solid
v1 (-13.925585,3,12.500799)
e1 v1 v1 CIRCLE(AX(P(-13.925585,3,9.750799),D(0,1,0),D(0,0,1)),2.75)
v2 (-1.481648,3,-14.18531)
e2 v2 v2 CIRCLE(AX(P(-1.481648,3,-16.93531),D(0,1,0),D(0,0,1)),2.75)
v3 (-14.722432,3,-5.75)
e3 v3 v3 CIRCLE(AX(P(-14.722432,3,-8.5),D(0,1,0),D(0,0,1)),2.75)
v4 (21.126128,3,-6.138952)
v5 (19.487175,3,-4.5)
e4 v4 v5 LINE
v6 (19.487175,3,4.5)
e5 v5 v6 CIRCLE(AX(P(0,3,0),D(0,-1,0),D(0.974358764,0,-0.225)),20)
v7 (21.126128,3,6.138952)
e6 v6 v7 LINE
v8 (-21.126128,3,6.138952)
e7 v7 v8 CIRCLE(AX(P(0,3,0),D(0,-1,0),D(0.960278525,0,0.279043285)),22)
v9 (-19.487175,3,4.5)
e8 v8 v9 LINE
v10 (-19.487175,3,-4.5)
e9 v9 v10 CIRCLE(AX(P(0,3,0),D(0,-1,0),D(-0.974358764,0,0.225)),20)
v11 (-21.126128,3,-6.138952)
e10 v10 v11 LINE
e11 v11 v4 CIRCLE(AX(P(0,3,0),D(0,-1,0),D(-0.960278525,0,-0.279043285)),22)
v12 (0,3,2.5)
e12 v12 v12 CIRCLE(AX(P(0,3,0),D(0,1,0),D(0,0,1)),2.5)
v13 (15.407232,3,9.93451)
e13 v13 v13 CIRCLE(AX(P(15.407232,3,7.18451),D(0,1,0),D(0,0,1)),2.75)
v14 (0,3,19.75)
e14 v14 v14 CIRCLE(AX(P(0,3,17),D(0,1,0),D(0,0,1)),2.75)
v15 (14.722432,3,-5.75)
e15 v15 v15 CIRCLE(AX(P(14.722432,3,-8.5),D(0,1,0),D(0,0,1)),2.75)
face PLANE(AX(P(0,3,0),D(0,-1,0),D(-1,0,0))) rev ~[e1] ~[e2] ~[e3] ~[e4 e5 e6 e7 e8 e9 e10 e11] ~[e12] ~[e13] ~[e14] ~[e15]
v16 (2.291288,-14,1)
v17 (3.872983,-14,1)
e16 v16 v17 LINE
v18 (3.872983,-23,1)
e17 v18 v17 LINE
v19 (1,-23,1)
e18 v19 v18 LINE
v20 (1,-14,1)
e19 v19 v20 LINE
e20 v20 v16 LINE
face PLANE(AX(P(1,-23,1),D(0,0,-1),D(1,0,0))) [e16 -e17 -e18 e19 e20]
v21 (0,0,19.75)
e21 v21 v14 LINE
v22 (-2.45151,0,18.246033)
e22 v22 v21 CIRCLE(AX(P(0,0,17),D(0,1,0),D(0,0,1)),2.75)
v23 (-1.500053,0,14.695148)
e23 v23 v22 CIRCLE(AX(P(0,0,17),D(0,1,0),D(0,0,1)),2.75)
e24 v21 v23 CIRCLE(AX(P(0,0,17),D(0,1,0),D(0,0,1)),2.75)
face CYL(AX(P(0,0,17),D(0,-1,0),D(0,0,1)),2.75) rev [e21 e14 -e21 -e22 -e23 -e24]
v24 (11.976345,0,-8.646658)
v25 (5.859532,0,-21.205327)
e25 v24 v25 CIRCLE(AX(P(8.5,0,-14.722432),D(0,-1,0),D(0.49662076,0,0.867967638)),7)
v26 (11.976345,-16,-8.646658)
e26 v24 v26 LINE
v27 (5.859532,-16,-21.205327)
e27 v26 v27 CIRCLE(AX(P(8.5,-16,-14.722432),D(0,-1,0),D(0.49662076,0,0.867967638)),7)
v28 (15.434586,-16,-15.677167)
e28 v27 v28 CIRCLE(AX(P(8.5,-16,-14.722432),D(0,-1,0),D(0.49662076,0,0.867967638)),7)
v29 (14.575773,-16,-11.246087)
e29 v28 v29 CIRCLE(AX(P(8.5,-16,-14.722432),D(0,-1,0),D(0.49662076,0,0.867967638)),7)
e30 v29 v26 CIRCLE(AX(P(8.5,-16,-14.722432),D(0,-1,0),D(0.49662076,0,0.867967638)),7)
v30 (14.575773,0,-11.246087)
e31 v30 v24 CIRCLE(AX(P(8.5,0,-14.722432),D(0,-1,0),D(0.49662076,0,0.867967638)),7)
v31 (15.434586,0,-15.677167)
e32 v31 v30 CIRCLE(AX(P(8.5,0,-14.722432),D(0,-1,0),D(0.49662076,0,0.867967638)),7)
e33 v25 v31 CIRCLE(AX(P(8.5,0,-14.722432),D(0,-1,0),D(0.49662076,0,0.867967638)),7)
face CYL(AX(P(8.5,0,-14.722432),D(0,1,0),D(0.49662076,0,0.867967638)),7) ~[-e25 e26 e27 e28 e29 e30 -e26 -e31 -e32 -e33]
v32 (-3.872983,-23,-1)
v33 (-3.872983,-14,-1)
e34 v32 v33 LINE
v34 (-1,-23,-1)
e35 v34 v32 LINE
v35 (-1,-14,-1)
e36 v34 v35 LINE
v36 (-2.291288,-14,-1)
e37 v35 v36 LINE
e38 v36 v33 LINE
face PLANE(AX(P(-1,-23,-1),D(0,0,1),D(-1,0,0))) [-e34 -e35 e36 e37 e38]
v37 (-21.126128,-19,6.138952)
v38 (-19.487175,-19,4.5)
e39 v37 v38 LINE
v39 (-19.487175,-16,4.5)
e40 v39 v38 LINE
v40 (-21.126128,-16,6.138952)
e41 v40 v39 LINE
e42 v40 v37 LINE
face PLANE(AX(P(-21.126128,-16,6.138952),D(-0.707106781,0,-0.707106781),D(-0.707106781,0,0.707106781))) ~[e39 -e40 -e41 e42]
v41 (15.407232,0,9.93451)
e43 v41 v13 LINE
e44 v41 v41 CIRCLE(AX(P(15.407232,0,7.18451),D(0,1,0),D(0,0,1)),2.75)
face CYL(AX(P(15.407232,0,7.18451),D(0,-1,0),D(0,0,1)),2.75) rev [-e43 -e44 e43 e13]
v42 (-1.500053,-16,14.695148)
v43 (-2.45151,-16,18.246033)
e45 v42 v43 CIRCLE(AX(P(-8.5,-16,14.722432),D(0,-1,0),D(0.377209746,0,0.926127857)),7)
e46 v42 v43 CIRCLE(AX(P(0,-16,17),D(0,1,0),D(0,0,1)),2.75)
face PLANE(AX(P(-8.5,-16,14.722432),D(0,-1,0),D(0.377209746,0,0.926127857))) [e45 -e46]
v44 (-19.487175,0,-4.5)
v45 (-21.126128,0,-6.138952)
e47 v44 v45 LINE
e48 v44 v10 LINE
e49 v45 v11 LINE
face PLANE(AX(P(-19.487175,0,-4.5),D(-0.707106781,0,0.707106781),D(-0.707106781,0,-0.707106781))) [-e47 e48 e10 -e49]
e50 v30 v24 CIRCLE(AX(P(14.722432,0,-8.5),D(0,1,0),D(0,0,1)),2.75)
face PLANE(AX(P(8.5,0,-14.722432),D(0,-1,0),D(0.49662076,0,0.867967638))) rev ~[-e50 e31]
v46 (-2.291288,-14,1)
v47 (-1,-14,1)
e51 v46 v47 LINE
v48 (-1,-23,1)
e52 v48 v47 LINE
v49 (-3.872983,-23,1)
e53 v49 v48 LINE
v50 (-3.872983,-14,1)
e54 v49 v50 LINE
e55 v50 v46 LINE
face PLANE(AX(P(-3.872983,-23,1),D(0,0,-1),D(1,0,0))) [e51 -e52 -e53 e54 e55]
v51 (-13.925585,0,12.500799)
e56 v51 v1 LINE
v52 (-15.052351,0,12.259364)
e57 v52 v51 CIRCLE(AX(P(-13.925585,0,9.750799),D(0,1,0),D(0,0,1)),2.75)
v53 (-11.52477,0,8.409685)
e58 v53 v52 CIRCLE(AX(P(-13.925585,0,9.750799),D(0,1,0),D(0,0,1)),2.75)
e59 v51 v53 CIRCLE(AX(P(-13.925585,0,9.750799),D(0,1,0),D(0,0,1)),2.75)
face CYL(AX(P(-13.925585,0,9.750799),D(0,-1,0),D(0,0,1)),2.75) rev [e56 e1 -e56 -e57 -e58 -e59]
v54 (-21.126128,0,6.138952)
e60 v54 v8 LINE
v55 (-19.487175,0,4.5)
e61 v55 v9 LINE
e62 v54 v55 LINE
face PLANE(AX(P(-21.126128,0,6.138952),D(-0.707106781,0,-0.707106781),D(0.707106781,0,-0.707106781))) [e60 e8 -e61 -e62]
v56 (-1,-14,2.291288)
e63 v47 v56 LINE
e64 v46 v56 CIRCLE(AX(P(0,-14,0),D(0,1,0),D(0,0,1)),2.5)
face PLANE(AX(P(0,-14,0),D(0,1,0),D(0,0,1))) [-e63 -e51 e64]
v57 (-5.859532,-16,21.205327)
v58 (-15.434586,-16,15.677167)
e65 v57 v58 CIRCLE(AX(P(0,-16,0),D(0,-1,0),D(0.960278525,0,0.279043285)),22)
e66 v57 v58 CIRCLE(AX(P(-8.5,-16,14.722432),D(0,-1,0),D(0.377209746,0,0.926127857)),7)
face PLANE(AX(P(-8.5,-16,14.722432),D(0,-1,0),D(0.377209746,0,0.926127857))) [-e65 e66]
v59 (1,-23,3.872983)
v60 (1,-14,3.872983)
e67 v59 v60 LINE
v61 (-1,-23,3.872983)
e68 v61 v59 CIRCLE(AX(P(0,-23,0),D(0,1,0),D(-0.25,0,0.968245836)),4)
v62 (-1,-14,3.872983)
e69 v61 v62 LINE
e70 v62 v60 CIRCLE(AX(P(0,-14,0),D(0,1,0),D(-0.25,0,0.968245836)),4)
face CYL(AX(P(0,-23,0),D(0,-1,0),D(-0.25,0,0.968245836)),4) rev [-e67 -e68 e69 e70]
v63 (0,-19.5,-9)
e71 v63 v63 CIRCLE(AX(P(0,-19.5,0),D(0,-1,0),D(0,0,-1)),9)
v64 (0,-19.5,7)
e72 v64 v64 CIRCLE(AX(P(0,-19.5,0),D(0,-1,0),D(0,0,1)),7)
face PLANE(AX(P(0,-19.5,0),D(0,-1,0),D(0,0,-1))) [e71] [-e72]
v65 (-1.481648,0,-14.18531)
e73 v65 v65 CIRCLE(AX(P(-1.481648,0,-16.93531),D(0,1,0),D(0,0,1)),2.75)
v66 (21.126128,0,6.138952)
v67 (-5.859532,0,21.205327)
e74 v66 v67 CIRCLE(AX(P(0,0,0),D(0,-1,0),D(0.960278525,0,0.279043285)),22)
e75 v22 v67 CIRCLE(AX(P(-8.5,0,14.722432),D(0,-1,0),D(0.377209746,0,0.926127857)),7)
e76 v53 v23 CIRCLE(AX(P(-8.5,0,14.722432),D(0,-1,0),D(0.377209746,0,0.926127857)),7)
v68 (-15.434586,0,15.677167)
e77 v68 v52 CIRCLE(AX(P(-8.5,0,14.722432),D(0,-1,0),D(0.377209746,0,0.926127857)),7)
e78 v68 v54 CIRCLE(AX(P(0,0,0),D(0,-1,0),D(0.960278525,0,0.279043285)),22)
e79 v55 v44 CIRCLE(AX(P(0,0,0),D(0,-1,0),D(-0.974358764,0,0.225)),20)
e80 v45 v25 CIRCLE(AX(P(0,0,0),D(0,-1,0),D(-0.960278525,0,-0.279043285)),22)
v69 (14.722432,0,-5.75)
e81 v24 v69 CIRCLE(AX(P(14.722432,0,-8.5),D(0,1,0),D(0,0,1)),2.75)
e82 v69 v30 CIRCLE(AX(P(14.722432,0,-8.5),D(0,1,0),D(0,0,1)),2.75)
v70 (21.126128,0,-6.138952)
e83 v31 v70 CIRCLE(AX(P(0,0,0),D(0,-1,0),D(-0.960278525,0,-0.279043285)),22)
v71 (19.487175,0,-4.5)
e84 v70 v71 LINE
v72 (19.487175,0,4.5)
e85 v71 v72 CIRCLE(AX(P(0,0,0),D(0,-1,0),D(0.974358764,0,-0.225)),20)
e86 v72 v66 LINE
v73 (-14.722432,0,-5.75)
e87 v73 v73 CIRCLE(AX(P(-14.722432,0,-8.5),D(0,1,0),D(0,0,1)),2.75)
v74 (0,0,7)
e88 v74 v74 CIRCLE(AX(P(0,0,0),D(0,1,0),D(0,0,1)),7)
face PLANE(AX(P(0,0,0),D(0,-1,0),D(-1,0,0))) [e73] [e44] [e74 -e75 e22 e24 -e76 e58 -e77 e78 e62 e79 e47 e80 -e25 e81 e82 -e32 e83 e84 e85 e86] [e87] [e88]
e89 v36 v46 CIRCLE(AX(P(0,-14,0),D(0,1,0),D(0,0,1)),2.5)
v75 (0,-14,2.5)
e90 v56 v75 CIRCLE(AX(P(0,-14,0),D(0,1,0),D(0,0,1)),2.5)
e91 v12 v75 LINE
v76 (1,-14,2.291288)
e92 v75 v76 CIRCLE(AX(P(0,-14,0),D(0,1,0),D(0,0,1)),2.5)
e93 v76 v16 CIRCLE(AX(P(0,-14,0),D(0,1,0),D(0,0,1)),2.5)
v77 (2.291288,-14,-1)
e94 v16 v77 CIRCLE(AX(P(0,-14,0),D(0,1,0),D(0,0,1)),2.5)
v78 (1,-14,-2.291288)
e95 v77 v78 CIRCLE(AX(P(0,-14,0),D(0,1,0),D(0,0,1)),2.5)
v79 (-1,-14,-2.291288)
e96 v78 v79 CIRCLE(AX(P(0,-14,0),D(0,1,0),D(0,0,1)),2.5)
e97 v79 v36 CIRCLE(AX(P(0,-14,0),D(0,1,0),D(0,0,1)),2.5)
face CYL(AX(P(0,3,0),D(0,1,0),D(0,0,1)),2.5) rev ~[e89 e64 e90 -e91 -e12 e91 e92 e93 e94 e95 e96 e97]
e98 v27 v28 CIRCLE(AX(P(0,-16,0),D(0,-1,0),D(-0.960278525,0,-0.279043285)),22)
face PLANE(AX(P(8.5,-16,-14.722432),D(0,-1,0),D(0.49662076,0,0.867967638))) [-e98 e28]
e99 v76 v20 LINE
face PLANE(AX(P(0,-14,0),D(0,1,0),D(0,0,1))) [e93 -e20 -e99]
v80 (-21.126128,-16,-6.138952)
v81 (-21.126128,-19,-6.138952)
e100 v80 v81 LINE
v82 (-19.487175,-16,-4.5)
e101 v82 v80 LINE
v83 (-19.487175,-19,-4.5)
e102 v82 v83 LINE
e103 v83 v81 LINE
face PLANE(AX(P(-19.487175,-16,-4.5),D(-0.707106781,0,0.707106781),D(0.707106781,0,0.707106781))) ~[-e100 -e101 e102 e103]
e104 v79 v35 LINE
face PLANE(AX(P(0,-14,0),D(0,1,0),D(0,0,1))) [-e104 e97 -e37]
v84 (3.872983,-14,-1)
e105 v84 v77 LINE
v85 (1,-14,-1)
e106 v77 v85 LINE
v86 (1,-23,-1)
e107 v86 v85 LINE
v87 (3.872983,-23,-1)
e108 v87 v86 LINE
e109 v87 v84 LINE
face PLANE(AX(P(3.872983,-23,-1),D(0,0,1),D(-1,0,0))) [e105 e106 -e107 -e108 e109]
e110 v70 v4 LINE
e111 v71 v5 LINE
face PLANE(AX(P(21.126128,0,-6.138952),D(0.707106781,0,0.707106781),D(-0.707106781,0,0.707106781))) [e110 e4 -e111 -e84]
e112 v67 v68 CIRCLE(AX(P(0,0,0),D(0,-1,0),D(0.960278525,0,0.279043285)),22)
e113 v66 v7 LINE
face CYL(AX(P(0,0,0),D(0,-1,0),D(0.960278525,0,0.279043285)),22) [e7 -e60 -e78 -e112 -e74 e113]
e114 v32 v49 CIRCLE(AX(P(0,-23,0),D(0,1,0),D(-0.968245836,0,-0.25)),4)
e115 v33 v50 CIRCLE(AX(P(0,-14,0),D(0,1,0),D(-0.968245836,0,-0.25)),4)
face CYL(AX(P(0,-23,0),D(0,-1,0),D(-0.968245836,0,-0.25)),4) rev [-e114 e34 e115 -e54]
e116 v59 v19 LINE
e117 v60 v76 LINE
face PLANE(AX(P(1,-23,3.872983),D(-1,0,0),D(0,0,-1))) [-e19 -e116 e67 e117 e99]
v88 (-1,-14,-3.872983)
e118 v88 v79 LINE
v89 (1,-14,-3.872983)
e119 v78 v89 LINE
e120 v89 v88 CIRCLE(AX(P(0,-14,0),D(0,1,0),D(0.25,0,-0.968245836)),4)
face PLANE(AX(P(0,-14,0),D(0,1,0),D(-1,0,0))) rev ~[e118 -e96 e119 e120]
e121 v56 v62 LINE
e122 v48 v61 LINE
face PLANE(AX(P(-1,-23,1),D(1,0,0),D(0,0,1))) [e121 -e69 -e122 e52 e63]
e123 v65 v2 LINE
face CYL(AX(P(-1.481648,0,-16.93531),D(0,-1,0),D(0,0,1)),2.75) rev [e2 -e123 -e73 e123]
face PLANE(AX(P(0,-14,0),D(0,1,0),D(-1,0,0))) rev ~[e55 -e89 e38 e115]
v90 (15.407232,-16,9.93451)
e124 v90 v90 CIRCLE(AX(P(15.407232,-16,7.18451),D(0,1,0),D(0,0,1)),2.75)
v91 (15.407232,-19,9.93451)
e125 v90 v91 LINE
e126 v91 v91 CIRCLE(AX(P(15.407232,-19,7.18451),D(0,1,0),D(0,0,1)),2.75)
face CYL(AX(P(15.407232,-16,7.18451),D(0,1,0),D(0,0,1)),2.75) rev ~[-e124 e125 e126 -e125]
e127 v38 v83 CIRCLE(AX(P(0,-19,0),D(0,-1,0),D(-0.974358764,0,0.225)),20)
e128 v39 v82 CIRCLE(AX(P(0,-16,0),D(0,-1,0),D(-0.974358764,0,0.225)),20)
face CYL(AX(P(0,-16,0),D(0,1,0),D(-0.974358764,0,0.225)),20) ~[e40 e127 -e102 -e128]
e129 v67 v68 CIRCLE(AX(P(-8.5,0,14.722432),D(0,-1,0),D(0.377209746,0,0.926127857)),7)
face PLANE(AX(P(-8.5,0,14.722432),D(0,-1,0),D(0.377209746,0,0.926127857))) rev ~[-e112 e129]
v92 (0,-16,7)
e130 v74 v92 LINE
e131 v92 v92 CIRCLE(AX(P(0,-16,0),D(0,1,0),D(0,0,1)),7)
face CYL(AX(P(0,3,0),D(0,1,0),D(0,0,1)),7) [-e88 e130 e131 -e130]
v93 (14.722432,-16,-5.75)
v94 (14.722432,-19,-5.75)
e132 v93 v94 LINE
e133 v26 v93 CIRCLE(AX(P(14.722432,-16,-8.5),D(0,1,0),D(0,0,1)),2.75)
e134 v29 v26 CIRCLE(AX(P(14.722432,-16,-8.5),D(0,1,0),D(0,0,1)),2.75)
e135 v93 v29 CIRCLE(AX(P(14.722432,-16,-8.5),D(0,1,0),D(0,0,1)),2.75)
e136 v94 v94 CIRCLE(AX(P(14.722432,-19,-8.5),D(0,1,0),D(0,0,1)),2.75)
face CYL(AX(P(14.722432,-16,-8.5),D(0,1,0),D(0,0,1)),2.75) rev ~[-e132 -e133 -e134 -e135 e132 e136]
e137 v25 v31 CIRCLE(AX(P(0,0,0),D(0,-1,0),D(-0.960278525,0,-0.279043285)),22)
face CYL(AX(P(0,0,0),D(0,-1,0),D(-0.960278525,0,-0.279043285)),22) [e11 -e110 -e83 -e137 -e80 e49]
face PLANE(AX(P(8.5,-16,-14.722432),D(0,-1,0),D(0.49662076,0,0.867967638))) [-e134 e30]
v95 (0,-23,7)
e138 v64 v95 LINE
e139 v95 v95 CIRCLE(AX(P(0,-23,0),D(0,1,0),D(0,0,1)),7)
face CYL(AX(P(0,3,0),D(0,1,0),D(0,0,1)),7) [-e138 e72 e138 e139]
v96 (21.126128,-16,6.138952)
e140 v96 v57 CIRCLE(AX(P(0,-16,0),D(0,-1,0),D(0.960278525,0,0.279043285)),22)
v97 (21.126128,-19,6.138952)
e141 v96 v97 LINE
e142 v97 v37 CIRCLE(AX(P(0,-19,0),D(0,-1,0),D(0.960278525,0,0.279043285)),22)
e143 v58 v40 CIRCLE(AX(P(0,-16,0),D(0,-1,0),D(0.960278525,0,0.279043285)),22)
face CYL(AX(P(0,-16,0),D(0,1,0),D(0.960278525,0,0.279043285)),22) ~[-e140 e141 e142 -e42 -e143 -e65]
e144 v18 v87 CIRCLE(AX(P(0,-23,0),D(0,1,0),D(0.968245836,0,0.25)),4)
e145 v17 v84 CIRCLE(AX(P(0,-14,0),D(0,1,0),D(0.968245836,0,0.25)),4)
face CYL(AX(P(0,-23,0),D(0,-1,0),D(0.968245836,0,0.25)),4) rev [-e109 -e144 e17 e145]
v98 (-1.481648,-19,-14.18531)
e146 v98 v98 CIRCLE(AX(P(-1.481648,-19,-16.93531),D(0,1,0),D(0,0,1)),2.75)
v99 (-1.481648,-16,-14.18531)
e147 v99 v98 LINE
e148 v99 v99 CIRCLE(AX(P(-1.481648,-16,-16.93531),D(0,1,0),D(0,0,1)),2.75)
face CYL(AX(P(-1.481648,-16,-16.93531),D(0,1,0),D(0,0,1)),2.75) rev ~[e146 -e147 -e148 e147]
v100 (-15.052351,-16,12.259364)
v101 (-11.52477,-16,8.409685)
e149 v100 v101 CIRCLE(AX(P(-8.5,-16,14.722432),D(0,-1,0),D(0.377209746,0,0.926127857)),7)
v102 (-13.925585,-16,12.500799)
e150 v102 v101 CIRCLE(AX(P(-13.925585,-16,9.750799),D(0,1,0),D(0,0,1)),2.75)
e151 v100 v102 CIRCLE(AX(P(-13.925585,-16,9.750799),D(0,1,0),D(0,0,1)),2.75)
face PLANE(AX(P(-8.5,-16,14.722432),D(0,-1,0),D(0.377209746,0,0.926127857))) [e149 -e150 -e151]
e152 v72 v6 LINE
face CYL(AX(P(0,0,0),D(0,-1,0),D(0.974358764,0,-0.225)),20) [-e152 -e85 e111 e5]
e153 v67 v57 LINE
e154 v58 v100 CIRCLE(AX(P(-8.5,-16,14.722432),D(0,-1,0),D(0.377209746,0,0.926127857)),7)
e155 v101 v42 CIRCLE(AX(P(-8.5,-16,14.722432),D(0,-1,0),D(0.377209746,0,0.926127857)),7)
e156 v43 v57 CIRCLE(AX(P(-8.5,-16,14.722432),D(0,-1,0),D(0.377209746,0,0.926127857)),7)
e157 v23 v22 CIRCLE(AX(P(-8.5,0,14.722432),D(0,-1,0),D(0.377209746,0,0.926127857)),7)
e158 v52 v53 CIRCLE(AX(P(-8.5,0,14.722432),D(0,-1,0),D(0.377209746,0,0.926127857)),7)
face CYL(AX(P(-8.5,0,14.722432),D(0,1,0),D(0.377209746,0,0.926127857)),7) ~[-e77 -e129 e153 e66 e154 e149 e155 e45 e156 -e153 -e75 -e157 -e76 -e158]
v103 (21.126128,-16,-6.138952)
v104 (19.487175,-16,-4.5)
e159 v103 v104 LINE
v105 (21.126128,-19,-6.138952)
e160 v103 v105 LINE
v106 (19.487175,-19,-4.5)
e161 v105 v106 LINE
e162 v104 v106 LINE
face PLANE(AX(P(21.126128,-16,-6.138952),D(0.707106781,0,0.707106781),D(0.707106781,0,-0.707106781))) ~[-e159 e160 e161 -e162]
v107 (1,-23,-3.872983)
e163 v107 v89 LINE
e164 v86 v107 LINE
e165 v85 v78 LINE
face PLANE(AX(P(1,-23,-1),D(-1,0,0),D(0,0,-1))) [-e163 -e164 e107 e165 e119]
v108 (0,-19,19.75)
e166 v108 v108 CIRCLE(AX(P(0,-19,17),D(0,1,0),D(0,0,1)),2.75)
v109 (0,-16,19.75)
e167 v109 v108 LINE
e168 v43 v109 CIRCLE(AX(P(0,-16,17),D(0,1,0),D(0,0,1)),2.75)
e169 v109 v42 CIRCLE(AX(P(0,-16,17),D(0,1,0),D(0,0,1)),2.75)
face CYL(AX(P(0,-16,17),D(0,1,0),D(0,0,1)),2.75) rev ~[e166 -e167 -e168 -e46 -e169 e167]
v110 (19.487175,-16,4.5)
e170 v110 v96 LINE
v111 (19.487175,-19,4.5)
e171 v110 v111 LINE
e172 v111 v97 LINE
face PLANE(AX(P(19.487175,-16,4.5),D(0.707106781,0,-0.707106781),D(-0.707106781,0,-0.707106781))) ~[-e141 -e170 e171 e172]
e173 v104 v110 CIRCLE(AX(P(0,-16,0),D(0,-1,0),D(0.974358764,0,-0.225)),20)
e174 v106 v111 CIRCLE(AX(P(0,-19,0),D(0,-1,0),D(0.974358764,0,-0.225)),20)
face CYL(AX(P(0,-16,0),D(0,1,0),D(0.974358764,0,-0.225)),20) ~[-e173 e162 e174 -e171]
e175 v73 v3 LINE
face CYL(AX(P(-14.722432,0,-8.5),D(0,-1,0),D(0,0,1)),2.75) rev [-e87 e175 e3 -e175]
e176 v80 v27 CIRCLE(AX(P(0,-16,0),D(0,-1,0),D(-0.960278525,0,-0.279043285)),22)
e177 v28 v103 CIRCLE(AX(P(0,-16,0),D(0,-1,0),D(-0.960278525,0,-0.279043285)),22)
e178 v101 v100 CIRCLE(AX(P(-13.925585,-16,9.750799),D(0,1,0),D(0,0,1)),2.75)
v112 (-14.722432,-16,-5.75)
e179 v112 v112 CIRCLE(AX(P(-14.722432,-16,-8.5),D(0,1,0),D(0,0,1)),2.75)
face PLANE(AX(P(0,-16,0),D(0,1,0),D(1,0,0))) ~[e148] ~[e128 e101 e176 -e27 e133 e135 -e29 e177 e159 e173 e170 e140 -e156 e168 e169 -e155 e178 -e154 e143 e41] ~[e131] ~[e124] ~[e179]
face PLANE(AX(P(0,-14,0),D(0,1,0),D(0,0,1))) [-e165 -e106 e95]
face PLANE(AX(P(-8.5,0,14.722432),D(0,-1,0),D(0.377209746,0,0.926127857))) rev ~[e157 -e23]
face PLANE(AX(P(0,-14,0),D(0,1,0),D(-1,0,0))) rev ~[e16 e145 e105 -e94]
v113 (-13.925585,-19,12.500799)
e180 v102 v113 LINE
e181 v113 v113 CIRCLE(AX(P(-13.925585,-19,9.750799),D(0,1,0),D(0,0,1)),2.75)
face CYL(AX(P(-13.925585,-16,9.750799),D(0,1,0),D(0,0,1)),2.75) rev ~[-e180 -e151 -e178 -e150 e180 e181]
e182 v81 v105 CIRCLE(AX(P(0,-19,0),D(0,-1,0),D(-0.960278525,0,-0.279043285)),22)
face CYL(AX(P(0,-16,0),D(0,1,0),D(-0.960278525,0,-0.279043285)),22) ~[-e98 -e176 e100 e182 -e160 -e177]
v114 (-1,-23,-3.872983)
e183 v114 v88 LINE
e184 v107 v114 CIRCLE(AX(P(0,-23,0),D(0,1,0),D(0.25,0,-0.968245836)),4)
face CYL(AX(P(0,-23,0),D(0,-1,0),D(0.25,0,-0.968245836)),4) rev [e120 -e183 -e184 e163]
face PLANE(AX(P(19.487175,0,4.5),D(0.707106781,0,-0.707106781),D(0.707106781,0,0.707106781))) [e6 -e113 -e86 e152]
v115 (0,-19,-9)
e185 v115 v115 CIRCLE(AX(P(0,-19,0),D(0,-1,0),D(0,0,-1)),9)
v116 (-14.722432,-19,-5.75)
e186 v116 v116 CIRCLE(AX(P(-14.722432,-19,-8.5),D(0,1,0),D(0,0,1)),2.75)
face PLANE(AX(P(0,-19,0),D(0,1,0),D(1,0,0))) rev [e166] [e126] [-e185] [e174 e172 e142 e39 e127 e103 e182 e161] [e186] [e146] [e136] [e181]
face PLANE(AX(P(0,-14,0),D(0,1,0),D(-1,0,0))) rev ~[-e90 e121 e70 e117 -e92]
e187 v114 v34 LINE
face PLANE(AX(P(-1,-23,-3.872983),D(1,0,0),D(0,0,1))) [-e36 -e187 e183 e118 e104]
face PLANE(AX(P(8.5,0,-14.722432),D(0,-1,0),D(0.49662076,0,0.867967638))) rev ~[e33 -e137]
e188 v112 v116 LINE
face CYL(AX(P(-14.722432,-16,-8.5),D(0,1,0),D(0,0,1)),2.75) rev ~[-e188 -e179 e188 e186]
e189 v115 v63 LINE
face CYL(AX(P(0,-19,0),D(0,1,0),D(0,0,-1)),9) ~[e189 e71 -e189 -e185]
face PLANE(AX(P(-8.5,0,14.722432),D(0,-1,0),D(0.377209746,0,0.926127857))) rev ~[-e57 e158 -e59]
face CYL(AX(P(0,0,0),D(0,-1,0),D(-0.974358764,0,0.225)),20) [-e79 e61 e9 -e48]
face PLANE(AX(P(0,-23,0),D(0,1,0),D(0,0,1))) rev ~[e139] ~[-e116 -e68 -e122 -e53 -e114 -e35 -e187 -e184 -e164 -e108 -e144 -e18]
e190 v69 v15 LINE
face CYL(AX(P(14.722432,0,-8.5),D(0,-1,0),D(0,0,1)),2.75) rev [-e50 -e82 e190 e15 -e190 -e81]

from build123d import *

# Parameters (mm, degrees)
SKETCH1_R           = 7
SKETCH1_R_2         = 2.75
BOSS_EXTRUDE1_DEPTH = 3
SKETCH2_R           = 7
BOSS_EXTRUDE2_DEPTH = 16
SKETCH3_R           = 7
BOSS_EXTRUDE3_DEPTH = 26
CUT_EXTRUDE1_DEPTH  = 9
SKETCH5_R           = 9
SKETCH5_R_2         = 7
BOSS_EXTRUDE4_DEPTH = 0.5
SKETCH6_R           = 2.5
CUT_EXTRUDE2_DEPTH  = 17


with BuildPart() as part:
    # Sketch1 → Boss-Extrude1 (new body)
    with BuildSketch(Plane(origin=(0, 0, 0), x_dir=(1, 0, 0), z_dir=(0, 1, 0))):
        with BuildLine():
            Line((19.48717527, -4.5), (21.126127543, -6.138952274))
            ThreePointArc((21.126127543, -6.138952274), (0, -22), (-21.126127543, -6.138952274))
            Line((-21.126127543, -6.138952274), (-19.48717527, -4.5))
            ThreePointArc((-19.48717527, -4.5), (-20, 0), (-19.48717527, 4.5))
            Line((-19.48717527, 4.5), (-21.126127543, 6.138952274))
            ThreePointArc((-21.126127543, 6.138952274), (0, 22), (21.126127543, 6.138952274))
            Line((21.126127543, 6.138952274), (19.48717527, 4.5))
            ThreePointArc((19.48717527, 4.5), (20, 0), (19.48717527, -4.5))
        make_face()
        with Locations(Location((0, 0, 0), (0, 0, 270))):
            Circle(SKETCH1_R, mode=Mode.SUBTRACT)
        with Locations(Location((0, -17, 0), (0, 0, 270))):
            Circle(SKETCH1_R_2, mode=Mode.SUBTRACT)
        with Locations(Location((-14.722431864, 8.5, 0), (0, 0, 270))):
            Circle(SKETCH1_R_2, mode=Mode.SUBTRACT)
        with Locations(Location((14.722431864, 8.5, 0), (0, 0, 270))):
            Circle(SKETCH1_R_2, mode=Mode.SUBTRACT)
        with Locations(Location((15.40723238, -7.18451045, 0), (0, 0, 270))):
            Circle(SKETCH1_R_2, mode=Mode.SUBTRACT)
        with Locations(Location((-13.925584753, -9.750799418, 0), (0, 0, 270))):
            Circle(SKETCH1_R_2, mode=Mode.SUBTRACT)
        with Locations(Location((-1.481647627, 16.935309868, 0), (0, 0, 270))):
            Circle(SKETCH1_R_2, mode=Mode.SUBTRACT)
    boss_extrude1 = extrude(amount=BOSS_EXTRUDE1_DEPTH)

    # Sketch2 → Boss-Extrude2 (add)
    with BuildSketch(Plane.XZ):
        with Locations(Location((-8.5, 14.722431864, 0), (0, 0, 67.839045349))):
            Circle(SKETCH2_R)
        with Locations(Location((8.5, -14.722431864, 0), (0, 0, 60.223318028))):
            Circle(SKETCH2_R)
    extrude(amount=BOSS_EXTRUDE2_DEPTH)

    # Mirror1: Boss-Extrude1 across plane
    add(boss_extrude1.mirror(Plane(origin=(0, -8, 0), x_dir=(0, 0, 1), z_dir=(0, -1, 0))))

    # Sketch3 → Boss-Extrude3 (add)
    with BuildSketch(Plane(origin=(0, 3, 0), x_dir=(1, 0, 0), z_dir=(0, 1, 0))):
        with Locations(Location((0, 0, 0), (0, 0, 270))):
            Circle(SKETCH3_R)
    extrude(amount=-BOSS_EXTRUDE3_DEPTH)

    # Sketch4 → Cut-Extrude1 (cut)
    with BuildSketch(Plane.XZ.offset(23)):
        with BuildLine():
            Line((1, -1), (1, -3.872983346))
            ThreePointArc((1, -3.872983346), (0, -4), (-1, -3.872983346))
            Line((-1, -3.872983346), (-1, -1))
            Line((-1, -1), (-3.872983346, -1))
            ThreePointArc((-3.872983346, -1), (-4, 0), (-3.872983346, 1))
            Line((-3.872983346, 1), (-1, 1))
            Line((-1, 1), (-1, 3.872983346))
            ThreePointArc((-1, 3.872983346), (0, 4), (1, 3.872983346))
            Line((1, 3.872983346), (1, 1))
            Line((1, 1), (3.872983346, 1))
            ThreePointArc((3.872983346, 1), (4, 0), (3.872983346, -1))
            Line((3.872983346, -1), (1, -1))
        make_face()
    extrude(amount=-CUT_EXTRUDE1_DEPTH, mode=Mode.SUBTRACT)

    # Sketch5 → Boss-Extrude4 (add)
    with BuildSketch(Plane.XZ.offset(19)):
        with Locations(Location((0, 0, 0), (0, 0, 270))):
            Circle(SKETCH5_R)
        with Locations(Location((0, 0, 0), (0, 0, 90))):
            Circle(SKETCH5_R_2, mode=Mode.SUBTRACT)
    extrude(amount=BOSS_EXTRUDE4_DEPTH)

    # Sketch6 → Cut-Extrude2 (cut)
    with BuildSketch(Plane(origin=(0, 3, 0), x_dir=(1, 0, 0), z_dir=(0, 1, 0))):
        with Locations(Location((0, 0, 0), (0, 0, 270))):
            Circle(SKETCH6_R)
    extrude(amount=-CUT_EXTRUDE2_DEPTH, mode=Mode.SUBTRACT)


solid = part.part
